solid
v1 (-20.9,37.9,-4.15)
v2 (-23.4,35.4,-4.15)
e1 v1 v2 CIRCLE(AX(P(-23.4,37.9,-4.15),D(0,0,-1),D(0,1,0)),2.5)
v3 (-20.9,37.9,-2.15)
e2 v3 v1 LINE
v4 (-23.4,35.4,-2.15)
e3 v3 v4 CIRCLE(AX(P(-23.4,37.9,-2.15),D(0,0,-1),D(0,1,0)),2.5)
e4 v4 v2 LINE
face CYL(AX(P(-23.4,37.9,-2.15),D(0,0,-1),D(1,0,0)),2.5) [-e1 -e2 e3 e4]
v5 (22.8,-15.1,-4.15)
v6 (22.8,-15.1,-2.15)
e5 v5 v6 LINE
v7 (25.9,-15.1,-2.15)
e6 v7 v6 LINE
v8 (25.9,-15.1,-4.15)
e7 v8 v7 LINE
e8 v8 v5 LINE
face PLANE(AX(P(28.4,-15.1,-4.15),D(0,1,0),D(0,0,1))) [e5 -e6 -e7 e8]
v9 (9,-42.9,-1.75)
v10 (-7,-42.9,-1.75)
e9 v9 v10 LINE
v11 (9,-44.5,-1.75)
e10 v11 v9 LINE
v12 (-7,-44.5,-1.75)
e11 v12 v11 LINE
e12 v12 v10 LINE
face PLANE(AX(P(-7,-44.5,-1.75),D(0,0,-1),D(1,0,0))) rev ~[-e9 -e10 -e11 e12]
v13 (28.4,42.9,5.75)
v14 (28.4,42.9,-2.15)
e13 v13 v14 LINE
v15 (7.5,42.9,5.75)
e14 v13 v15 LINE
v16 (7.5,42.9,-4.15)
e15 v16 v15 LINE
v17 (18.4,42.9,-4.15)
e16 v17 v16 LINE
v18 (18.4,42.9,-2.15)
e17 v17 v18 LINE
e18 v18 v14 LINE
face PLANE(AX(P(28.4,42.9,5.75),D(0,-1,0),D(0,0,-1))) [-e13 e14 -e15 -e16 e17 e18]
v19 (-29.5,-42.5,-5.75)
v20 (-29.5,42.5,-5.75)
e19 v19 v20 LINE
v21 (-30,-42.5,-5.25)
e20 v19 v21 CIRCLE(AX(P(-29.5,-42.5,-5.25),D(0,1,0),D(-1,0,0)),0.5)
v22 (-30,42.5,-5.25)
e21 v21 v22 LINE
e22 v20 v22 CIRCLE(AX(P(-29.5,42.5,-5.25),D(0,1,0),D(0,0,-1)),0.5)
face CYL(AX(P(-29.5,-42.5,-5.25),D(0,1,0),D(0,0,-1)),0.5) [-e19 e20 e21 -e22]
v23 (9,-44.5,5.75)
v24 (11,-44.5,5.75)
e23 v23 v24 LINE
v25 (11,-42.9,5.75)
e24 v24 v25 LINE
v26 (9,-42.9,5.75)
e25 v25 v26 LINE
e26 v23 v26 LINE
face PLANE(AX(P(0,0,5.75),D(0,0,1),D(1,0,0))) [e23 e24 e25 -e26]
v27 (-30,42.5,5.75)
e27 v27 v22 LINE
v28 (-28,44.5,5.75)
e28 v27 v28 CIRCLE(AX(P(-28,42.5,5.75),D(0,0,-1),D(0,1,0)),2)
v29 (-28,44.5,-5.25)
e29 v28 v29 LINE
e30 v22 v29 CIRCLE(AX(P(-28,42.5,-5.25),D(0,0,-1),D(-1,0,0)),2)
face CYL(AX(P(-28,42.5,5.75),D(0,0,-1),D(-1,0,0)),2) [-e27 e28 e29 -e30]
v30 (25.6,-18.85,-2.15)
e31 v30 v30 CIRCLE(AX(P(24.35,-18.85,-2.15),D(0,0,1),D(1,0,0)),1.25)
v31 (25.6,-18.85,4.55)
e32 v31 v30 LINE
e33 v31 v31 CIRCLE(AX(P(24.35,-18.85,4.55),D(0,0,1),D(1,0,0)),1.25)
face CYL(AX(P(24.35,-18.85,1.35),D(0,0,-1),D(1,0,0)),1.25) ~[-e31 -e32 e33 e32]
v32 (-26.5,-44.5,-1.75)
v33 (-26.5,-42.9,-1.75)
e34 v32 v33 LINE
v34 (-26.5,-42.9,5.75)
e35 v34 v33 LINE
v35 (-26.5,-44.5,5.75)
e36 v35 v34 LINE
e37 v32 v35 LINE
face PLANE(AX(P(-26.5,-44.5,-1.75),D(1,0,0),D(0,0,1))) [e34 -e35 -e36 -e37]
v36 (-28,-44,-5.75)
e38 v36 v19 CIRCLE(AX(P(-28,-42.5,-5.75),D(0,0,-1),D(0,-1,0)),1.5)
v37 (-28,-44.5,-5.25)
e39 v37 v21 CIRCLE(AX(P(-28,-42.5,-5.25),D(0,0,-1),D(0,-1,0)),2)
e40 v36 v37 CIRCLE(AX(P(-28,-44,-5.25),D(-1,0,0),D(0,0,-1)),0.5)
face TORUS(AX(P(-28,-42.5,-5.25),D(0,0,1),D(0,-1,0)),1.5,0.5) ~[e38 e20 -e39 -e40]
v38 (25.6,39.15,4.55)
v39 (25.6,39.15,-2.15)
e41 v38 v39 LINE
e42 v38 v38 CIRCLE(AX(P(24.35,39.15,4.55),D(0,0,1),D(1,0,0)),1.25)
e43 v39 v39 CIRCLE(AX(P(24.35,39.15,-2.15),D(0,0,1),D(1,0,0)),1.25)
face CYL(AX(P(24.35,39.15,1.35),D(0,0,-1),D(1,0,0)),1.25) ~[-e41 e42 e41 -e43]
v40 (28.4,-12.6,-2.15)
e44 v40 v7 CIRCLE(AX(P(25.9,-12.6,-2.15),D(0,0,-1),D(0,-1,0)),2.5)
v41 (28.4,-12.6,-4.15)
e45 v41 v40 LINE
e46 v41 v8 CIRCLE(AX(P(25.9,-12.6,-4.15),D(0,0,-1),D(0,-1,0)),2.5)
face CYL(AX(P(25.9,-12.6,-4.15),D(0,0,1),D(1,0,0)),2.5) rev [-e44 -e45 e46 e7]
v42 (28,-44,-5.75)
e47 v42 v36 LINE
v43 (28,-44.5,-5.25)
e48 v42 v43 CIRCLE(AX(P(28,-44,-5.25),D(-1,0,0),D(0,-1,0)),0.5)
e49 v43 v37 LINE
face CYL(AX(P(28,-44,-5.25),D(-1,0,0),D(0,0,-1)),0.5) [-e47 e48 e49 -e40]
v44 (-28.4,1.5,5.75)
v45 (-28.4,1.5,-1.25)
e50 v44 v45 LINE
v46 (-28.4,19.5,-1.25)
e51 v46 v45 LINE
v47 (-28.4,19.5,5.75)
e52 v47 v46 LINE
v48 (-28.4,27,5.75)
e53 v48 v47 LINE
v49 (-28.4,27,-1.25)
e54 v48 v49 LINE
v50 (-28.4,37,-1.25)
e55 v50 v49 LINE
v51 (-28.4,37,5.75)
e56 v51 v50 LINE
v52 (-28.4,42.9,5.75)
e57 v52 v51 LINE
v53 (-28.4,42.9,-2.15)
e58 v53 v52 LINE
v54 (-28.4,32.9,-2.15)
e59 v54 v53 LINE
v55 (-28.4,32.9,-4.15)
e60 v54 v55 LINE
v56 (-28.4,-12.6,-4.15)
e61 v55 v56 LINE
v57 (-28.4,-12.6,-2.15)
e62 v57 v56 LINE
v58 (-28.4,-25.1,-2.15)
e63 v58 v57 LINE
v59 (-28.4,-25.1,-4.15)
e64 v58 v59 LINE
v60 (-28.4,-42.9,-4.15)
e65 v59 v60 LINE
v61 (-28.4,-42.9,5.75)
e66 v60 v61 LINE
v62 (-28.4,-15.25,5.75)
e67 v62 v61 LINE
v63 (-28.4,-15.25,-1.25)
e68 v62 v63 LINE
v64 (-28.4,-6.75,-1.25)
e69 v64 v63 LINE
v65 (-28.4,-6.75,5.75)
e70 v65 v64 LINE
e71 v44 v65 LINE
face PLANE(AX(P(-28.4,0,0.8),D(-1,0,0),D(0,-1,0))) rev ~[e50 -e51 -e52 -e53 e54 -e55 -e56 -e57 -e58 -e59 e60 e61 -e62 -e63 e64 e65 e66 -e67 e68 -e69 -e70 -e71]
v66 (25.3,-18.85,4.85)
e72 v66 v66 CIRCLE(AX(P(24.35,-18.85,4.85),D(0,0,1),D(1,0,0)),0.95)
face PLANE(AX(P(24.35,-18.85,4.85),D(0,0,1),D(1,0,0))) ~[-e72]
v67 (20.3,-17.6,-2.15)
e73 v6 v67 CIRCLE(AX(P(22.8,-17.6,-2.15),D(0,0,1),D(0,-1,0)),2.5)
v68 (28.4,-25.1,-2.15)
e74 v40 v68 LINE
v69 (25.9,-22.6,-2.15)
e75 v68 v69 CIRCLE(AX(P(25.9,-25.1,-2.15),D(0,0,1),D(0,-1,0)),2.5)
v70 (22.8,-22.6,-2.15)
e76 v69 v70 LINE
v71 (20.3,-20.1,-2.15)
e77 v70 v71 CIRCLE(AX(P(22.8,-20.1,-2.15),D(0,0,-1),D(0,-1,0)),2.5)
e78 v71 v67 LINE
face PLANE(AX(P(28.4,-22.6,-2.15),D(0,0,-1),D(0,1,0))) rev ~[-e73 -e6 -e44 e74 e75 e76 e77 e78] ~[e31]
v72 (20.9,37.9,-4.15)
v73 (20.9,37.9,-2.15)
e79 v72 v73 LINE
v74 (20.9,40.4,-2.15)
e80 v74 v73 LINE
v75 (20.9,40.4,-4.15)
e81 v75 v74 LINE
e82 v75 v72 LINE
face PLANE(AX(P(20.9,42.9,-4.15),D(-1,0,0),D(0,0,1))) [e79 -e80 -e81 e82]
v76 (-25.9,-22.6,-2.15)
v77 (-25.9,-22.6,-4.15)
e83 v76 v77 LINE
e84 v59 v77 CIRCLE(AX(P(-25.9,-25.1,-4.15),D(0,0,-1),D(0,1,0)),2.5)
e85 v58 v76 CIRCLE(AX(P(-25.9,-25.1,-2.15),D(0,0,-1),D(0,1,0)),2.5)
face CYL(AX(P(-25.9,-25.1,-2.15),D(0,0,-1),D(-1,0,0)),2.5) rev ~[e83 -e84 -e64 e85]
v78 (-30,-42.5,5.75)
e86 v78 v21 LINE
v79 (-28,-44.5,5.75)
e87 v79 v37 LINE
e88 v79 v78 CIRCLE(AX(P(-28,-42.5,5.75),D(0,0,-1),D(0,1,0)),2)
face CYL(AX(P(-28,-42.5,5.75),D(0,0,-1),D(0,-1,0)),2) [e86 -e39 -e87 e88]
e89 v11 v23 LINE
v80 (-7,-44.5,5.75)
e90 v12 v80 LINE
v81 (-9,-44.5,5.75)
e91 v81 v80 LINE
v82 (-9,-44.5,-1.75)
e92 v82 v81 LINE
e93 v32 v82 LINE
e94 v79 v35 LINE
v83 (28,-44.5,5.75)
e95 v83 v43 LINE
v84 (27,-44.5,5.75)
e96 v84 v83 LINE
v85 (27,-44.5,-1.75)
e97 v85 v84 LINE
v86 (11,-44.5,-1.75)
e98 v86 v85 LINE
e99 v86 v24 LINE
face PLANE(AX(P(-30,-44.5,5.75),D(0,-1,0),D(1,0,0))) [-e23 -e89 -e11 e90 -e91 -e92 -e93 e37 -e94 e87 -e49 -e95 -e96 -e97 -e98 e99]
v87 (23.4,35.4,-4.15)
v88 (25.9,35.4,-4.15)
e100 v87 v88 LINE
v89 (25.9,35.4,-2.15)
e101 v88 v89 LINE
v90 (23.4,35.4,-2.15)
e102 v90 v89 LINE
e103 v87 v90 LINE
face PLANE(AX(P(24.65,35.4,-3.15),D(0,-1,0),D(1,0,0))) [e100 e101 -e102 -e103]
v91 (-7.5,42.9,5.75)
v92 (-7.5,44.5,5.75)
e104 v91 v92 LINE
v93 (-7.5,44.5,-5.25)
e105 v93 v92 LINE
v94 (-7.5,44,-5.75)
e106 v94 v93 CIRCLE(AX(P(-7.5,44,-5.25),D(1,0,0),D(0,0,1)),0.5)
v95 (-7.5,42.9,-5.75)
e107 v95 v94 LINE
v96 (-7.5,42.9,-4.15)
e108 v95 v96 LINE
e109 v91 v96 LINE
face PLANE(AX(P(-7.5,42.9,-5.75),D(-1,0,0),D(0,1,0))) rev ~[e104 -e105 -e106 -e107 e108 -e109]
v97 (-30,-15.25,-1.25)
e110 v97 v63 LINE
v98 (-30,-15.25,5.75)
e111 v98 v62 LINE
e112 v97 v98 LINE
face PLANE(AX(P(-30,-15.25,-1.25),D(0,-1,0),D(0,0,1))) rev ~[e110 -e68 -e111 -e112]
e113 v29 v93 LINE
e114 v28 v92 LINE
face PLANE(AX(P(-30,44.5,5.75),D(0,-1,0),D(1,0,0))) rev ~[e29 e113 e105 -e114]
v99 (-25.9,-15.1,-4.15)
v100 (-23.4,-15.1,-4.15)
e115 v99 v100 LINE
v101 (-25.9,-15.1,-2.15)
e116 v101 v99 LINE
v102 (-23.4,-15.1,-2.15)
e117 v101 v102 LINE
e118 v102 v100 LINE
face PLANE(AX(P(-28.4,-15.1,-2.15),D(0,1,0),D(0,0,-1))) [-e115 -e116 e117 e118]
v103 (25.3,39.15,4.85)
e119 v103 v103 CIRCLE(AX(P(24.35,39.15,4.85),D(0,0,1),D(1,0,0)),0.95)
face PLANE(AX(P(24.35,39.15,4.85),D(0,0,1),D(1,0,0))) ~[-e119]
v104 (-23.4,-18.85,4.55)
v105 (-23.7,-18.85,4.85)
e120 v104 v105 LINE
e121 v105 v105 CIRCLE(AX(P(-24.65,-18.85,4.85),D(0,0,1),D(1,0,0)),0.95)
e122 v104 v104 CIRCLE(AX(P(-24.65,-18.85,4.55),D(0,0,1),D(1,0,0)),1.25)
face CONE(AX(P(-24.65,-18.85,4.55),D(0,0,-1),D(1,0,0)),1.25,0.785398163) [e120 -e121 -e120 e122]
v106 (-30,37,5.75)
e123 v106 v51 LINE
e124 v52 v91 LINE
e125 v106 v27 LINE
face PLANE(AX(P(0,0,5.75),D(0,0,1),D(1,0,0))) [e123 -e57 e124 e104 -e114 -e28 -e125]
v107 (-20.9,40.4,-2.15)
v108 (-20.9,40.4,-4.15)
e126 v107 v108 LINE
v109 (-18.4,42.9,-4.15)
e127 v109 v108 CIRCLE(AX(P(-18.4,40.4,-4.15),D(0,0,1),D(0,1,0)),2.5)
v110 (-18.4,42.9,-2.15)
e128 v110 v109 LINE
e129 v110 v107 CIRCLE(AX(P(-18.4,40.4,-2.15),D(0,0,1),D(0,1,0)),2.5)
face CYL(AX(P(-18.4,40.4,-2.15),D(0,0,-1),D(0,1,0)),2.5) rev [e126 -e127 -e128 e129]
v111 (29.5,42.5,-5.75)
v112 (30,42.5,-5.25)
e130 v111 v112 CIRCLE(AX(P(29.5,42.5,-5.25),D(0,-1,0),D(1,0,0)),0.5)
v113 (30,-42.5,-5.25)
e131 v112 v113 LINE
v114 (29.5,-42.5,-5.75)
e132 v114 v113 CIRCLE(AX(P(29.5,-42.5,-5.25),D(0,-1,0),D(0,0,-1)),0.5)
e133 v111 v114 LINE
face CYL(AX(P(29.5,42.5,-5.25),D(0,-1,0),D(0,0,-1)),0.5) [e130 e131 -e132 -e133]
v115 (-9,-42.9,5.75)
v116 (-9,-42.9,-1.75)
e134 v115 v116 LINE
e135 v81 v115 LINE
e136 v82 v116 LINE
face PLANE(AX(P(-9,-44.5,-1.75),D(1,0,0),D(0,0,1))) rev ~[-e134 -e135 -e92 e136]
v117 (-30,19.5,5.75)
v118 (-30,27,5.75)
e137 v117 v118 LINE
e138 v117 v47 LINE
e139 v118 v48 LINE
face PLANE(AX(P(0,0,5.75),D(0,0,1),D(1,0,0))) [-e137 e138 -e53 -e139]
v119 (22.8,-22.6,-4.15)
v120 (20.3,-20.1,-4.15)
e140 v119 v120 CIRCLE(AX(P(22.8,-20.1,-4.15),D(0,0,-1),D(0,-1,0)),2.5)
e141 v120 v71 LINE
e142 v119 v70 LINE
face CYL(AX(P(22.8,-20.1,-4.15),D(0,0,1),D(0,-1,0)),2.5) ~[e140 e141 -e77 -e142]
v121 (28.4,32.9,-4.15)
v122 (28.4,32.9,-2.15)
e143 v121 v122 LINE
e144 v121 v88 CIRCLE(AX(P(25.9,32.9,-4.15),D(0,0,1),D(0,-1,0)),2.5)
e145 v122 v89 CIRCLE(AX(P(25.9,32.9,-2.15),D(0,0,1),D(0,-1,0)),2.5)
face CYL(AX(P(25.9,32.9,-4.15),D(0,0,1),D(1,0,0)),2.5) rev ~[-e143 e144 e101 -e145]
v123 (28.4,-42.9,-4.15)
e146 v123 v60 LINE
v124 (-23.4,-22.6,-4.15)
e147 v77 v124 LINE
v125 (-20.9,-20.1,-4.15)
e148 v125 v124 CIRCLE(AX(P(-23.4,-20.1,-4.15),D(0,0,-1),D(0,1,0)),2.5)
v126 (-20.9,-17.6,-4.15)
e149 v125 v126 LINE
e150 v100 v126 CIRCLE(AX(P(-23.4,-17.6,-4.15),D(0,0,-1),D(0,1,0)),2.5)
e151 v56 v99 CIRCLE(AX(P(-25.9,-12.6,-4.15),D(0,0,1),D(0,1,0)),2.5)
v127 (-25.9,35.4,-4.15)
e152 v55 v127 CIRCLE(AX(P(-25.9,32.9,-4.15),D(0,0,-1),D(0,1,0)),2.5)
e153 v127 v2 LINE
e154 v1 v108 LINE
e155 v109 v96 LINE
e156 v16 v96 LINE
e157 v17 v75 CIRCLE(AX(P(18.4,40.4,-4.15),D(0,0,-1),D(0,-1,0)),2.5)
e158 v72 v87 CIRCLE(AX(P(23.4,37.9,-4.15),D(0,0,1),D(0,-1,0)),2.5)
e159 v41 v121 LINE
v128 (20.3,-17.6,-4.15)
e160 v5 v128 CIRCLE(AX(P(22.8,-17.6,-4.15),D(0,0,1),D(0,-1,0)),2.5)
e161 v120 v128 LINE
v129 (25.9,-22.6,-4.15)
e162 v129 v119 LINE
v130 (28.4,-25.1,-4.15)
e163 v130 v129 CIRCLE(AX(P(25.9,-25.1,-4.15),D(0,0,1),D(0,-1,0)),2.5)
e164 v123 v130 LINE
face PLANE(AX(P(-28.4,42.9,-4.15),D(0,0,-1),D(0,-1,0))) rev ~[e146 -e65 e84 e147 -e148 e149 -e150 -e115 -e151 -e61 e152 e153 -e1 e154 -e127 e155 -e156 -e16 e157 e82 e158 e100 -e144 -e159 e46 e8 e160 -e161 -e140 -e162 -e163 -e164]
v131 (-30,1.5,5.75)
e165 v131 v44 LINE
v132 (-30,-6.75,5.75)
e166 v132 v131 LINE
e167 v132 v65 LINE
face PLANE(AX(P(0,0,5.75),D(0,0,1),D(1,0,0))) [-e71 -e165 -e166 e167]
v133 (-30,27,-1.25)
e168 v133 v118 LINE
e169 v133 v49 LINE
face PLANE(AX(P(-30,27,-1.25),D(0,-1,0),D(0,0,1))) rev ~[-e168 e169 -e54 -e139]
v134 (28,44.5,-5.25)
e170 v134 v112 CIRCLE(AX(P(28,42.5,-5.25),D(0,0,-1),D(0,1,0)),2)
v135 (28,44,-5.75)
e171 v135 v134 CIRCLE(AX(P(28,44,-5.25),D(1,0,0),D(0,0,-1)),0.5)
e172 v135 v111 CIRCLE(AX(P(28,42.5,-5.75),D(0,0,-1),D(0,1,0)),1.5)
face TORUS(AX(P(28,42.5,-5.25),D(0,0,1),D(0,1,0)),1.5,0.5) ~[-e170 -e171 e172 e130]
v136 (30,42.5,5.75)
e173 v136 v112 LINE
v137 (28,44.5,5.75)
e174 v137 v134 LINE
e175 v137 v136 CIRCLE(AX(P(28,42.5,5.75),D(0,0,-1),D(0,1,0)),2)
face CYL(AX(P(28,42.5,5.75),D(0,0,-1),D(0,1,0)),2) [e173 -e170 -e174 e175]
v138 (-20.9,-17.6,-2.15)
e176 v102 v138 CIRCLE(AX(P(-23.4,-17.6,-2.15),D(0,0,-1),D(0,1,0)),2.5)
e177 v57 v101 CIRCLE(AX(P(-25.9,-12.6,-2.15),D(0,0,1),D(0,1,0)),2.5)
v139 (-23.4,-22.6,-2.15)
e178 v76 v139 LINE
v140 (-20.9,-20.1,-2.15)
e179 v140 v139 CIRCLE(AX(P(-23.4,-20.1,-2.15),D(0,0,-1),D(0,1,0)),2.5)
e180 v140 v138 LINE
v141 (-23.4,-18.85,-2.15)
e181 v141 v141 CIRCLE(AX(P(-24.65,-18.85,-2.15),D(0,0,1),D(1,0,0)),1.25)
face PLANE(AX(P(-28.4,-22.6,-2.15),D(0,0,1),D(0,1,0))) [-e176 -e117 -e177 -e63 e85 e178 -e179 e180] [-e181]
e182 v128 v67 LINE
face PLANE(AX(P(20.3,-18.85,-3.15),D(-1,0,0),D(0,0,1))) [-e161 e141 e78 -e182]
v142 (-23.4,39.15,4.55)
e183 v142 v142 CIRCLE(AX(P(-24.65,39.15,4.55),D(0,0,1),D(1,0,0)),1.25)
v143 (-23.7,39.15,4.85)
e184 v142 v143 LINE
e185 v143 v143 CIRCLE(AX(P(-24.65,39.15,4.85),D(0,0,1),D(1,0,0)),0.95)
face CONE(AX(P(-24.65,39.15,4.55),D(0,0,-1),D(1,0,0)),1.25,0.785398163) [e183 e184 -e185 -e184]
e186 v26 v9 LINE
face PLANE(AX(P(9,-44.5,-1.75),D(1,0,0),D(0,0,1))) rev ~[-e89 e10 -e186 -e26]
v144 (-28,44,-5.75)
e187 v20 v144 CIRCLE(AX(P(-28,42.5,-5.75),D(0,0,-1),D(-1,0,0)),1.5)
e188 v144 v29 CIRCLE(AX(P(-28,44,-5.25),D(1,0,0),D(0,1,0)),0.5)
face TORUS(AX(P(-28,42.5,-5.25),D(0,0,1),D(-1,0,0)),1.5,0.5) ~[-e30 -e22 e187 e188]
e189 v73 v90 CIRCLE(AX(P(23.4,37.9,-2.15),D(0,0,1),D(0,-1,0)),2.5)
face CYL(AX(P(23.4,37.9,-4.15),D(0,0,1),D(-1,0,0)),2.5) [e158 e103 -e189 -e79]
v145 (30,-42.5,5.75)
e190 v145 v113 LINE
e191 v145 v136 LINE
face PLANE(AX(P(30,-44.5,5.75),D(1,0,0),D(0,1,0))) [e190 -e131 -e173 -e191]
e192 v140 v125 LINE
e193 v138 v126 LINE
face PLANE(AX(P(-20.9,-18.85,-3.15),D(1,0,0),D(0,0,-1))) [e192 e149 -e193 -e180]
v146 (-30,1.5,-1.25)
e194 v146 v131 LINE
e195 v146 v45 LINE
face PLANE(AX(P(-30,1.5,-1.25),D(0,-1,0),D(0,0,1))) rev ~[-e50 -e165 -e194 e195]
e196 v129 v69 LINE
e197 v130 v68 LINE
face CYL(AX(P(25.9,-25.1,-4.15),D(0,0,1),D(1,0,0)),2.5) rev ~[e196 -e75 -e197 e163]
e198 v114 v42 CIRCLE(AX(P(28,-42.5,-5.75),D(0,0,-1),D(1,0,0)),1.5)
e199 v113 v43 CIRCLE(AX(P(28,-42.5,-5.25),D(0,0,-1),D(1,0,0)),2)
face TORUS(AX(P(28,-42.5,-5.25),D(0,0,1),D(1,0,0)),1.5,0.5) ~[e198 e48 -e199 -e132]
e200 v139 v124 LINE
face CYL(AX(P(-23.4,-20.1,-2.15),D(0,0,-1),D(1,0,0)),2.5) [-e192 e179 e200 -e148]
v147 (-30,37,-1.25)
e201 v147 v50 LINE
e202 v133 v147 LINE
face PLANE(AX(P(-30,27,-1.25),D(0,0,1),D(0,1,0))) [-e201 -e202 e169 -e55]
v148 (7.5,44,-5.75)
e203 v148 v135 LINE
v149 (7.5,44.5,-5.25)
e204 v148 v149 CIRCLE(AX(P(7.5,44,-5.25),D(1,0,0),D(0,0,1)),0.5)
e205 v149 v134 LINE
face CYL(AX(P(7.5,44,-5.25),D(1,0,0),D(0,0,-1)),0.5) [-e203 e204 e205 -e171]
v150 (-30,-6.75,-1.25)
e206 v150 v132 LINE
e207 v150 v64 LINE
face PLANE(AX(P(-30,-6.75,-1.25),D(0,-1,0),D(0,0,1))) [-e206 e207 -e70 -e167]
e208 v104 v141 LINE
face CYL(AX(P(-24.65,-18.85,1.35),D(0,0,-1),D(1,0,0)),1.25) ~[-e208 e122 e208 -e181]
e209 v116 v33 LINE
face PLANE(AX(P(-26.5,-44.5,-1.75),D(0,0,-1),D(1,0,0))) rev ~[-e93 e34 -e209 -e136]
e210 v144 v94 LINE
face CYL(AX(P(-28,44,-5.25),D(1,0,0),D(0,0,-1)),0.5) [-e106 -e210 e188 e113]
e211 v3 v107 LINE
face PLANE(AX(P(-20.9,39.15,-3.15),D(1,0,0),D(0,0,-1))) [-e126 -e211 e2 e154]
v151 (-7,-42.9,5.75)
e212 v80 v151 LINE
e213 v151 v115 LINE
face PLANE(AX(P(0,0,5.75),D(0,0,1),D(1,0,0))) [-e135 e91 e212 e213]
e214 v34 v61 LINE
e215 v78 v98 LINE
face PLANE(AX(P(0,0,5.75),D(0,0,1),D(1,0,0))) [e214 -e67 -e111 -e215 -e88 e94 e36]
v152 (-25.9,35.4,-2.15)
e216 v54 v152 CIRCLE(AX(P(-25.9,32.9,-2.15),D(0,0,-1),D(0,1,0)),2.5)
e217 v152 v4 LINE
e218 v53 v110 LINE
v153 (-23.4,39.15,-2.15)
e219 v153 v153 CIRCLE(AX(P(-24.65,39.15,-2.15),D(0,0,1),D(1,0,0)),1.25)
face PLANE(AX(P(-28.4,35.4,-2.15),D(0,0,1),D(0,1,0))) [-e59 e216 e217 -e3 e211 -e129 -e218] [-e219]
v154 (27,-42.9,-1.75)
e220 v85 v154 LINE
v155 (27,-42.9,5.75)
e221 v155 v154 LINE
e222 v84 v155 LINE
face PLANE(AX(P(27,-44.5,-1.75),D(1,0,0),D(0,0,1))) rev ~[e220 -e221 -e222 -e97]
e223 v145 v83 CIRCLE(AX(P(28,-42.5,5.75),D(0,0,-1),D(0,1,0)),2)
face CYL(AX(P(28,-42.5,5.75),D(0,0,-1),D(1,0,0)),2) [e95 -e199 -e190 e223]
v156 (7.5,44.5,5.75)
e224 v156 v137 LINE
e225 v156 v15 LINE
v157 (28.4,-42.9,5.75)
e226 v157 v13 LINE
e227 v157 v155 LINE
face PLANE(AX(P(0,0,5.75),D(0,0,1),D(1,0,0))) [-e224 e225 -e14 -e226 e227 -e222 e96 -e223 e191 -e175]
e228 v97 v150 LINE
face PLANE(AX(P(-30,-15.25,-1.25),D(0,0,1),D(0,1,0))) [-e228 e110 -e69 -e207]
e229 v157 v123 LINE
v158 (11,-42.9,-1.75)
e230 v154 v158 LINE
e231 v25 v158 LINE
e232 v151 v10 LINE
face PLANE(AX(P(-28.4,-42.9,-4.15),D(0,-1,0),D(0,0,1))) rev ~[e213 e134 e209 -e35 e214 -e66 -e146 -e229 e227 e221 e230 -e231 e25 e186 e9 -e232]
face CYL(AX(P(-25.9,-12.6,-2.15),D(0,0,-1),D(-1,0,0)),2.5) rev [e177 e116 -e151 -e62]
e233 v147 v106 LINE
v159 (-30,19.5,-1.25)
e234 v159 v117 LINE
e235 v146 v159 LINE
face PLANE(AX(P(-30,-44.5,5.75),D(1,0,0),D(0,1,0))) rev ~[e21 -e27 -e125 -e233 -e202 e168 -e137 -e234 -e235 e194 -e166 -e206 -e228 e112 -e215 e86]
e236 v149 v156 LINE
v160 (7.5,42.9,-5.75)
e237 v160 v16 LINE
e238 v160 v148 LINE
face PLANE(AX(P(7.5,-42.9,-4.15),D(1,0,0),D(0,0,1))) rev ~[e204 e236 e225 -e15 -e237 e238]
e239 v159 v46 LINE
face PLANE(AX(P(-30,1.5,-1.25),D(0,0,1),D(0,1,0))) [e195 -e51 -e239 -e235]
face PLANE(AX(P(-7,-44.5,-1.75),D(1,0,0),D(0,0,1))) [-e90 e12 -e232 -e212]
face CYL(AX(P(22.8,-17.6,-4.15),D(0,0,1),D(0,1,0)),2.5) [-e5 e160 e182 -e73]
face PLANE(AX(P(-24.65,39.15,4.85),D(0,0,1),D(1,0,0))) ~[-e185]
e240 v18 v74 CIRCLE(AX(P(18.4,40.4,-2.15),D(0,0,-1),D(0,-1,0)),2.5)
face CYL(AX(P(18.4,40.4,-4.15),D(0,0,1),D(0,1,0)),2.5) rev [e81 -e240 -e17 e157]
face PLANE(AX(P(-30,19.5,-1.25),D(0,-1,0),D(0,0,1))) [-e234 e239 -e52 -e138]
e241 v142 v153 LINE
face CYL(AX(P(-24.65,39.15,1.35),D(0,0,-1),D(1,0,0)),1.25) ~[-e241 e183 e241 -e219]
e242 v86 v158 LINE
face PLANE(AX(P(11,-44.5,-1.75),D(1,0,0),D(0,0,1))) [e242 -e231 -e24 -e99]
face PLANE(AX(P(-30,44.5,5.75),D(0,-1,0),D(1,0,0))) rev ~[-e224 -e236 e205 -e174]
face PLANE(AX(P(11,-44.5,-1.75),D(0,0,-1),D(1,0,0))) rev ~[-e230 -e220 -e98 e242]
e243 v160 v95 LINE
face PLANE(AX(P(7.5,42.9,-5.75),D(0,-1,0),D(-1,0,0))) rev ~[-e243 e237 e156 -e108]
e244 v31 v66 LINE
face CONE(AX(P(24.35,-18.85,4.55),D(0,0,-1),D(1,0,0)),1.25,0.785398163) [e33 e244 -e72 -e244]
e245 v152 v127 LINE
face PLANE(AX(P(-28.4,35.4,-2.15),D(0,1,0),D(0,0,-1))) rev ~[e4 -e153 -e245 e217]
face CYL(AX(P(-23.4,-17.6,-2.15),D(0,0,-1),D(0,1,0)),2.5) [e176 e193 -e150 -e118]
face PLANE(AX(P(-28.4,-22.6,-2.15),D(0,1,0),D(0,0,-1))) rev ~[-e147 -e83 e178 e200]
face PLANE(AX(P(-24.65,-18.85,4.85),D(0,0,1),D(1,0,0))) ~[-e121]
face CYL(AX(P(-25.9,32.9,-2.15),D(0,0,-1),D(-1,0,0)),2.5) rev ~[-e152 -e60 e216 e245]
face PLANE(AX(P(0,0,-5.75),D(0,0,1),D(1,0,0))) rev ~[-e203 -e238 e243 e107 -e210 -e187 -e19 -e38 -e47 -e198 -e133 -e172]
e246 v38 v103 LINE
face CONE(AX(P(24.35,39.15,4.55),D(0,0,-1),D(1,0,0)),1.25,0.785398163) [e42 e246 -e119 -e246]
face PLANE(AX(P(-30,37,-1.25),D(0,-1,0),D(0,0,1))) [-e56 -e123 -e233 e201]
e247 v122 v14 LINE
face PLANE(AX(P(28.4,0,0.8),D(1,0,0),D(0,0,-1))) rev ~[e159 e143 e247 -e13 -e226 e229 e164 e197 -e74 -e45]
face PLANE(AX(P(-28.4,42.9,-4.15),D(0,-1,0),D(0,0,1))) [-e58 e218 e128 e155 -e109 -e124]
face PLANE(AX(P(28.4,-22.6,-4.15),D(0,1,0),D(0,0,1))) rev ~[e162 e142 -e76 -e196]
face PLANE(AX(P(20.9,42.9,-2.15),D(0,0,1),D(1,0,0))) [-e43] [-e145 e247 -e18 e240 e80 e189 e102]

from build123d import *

# Parameters (mm, degrees)
ESQUISSE1_W              = 60
ESQUISSE1_H              = 89
BOSS_EXTRU_1_DEPTH       = 11.5
ESQUISSE2_W              = 15
ESQUISSE2_H              = 1.6
ENL_V_MAT_EXTRU_1_DEPTH  = 55.886246
ENL_V_MAT_EXTRU_2_REACH  = 94.584
ESQUISSE4_W              = 15
ESQUISSE4_H              = 9.9
ENL_V_MAT_EXTRU_3_REACH  = 75.647
ESQUISSE5_W              = 85.8
ESQUISSE5_H              = 9.9
ENL_V_MAT_EXTRU_4_REACH  = 75.647
ESQUISSE6_W              = 9.9
ESQUISSE6_H              = 85.8
ENL_V_MAT_EXTRU_5_REACH  = 76.922
ESQUISSE7_W              = 7
ESQUISSE7_H              = 10
ENL_V_MAT_EXTRU_6_REACH  = 76.922
ESQUISSE8_W              = 7
ESQUISSE8_H              = 18
ENL_V_MAT_EXTRU_7_REACH  = 96.096
ESQUISSE9_W              = 17.5
ESQUISSE9_H              = 7.5
ENL_V_MAT_EXTRU_8_REACH  = 96.096
ESQUISSE10_W             = 16
ESQUISSE10_H             = 7.5
ENL_V_MAT_EXTRU_9_REACH  = 96.096
ESQUISSE11_W             = 16
ESQUISSE11_H             = 7.5
ENL_V_MAT_EXTRU_10_REACH = 76.922
ESQUISSE12_W             = 7
ESQUISSE12_H             = 8.5
ESQUISSE23_W             = 2
ESQUISSE23_H             = 7.5
BOSS_EXTRU_5_DEPTH       = 7.5
ESQUISSE24_W             = 7.5
ESQUISSE24_H             = 2
BOSS_EXTRU_6_DEPTH       = 7.5
ESQUISSE25_W             = 2
ESQUISSE25_H             = 7.5
BOSS_EXTRU_7_DEPTH       = 8.1
ESQUISSE26_W             = 2
ESQUISSE26_H             = 7.5
BOSS_EXTRU_8_DEPTH       = 7.5
ESQUISSE28_W             = 1.25
ESQUISSE28_H             = 7
ESQUISSE29_W             = 1.25
ESQUISSE29_H             = 7
ESQUISSE30_W             = 1.25
ESQUISSE30_H             = 7
ESQUISSE31_W             = 1.25
ESQUISSE31_H             = 7
CONG_1_R                 = 2
CHANFREIN1_SIZE          = 0.3
CONG_2_R                 = 0.5
CONG_9_R                 = 2.5


with BuildPart() as part:
    # Esquisse1 → Boss.-Extru.1 (new body)
    with BuildSketch(Plane.XY.offset(5.75)):
        Rectangle(ESQUISSE1_W, ESQUISSE1_H)
    extrude(amount=-BOSS_EXTRU_1_DEPTH)

    # Esquisse2 → Enlèv. mat.-Extru.1 (cut, through all)
    with BuildSketch(Plane(origin=(0, 0, -5.75), x_dir=(-1, 0, 0), z_dir=(0, 0, -1))):
        with Locations((0, 43.7)):
            Rectangle(ESQUISSE2_W, ESQUISSE2_H)
    extrude(amount=-ENL_V_MAT_EXTRU_1_DEPTH, mode=Mode.SUBTRACT)

    # Esquisse4 → Enlèv. mat.-Extru.2 (cut, up to next)
    with BuildSketch(Plane.XZ.offset(42.9), mode=Mode.PRIVATE) as enl_v_mat_extru_2_sk1:
        with Locations((0, 0.8)):
            Rectangle(ESQUISSE4_W, ESQUISSE4_H)
    enl_v_mat_extru_2_tool1 = extrude(enl_v_mat_extru_2_sk1.sketch, amount=-ENL_V_MAT_EXTRU_2_REACH, mode=Mode.PRIVATE) & part.part
    add(enl_v_mat_extru_2_tool1.solids().sort_by_distance((0, -42.9, 0.8))[0], mode=Mode.SUBTRACT)

    # Esquisse5 → Enlèv. mat.-Extru.3 (cut, up to next)
    with BuildSketch(Plane(origin=(-28.4, 0, 0), x_dir=(0, -1, 0), z_dir=(-1, 0, 0)), mode=Mode.PRIVATE) as enl_v_mat_extru_3_sk1:
        with Locations((0, 0.8)):
            Rectangle(ESQUISSE5_W, ESQUISSE5_H)
    enl_v_mat_extru_3_tool1 = extrude(enl_v_mat_extru_3_sk1.sketch, amount=-ENL_V_MAT_EXTRU_3_REACH, mode=Mode.PRIVATE) & part.part
    add(enl_v_mat_extru_3_tool1.solids().sort_by_distance((-28.4, 0, 0.8))[0], mode=Mode.SUBTRACT)

    # Esquisse6 → Enlèv. mat.-Extru.4 (cut, up to next)
    with BuildSketch(Plane(origin=(28.4, 0, 0), x_dir=(0, 0, -1), z_dir=(1, 0, 0)), mode=Mode.PRIVATE) as enl_v_mat_extru_4_sk1:
        with Locations((-0.8, 0)):
            Rectangle(ESQUISSE6_W, ESQUISSE6_H)
    enl_v_mat_extru_4_tool1 = extrude(enl_v_mat_extru_4_sk1.sketch, amount=-ENL_V_MAT_EXTRU_4_REACH, mode=Mode.PRIVATE) & part.part
    add(enl_v_mat_extru_4_tool1.solids().sort_by_distance((28.4, 0, 0.8))[0], mode=Mode.SUBTRACT)

    # Esquisse7 → Enlèv. mat.-Extru.5 (cut, up to next)
    with BuildSketch(Plane.ZY.offset(30), mode=Mode.PRIVATE) as enl_v_mat_extru_5_sk1:
        with Locations((2.25, 32)):
            Rectangle(ESQUISSE7_W, ESQUISSE7_H)
    enl_v_mat_extru_5_tool1 = extrude(enl_v_mat_extru_5_sk1.sketch, amount=-ENL_V_MAT_EXTRU_5_REACH, mode=Mode.PRIVATE) & part.part
    add(enl_v_mat_extru_5_tool1.solids().sort_by_distance((-30, 32, 2.25))[0], mode=Mode.SUBTRACT)

    # Esquisse8 → Enlèv. mat.-Extru.6 (cut, up to next)
    with BuildSketch(Plane.ZY.offset(30), mode=Mode.PRIVATE) as enl_v_mat_extru_6_sk1:
        with Locations((2.25, 10.5)):
            Rectangle(ESQUISSE8_W, ESQUISSE8_H)
    enl_v_mat_extru_6_tool1 = extrude(enl_v_mat_extru_6_sk1.sketch, amount=-ENL_V_MAT_EXTRU_6_REACH, mode=Mode.PRIVATE) & part.part
    add(enl_v_mat_extru_6_tool1.solids().sort_by_distance((-30, 10.5, 2.25))[0], mode=Mode.SUBTRACT)

    # Esquisse9 → Enlèv. mat.-Extru.7 (cut, up to next)
    with BuildSketch(Plane.XZ.offset(44.5), mode=Mode.PRIVATE) as enl_v_mat_extru_7_sk1:
        with Locations((-17.75, 2)):
            Rectangle(ESQUISSE9_W, ESQUISSE9_H)
    enl_v_mat_extru_7_tool1 = extrude(enl_v_mat_extru_7_sk1.sketch, amount=-ENL_V_MAT_EXTRU_7_REACH, mode=Mode.PRIVATE) & part.part
    add(enl_v_mat_extru_7_tool1.solids().sort_by_distance((-17.75, -44.5, 2))[0], mode=Mode.SUBTRACT)

    # Esquisse10 → Enlèv. mat.-Extru.8 (cut, up to next)
    with BuildSketch(Plane.XZ.offset(44.5), mode=Mode.PRIVATE) as enl_v_mat_extru_8_sk1:
        with Locations((1, 2)):
            Rectangle(ESQUISSE10_W, ESQUISSE10_H)
    enl_v_mat_extru_8_tool1 = extrude(enl_v_mat_extru_8_sk1.sketch, amount=-ENL_V_MAT_EXTRU_8_REACH, mode=Mode.PRIVATE) & part.part
    add(enl_v_mat_extru_8_tool1.solids().sort_by_distance((1, -44.5, 2))[0], mode=Mode.SUBTRACT)

    # Esquisse11 → Enlèv. mat.-Extru.9 (cut, up to next)
    with BuildSketch(Plane.XZ.offset(44.5), mode=Mode.PRIVATE) as enl_v_mat_extru_9_sk1:
        with Locations((19, 2)):
            Rectangle(ESQUISSE11_W, ESQUISSE11_H)
    enl_v_mat_extru_9_tool1 = extrude(enl_v_mat_extru_9_sk1.sketch, amount=-ENL_V_MAT_EXTRU_9_REACH, mode=Mode.PRIVATE) & part.part
    add(enl_v_mat_extru_9_tool1.solids().sort_by_distance((19, -44.5, 2))[0], mode=Mode.SUBTRACT)

    # Esquisse12 → Enlèv. mat.-Extru.10 (cut, up to next)
    with BuildSketch(Plane.ZY.offset(30), mode=Mode.PRIVATE) as enl_v_mat_extru_10_sk1:
        with Locations((2.25, -11)):
            Rectangle(ESQUISSE12_W, ESQUISSE12_H)
    enl_v_mat_extru_10_tool1 = extrude(enl_v_mat_extru_10_sk1.sketch, amount=-ENL_V_MAT_EXTRU_10_REACH, mode=Mode.PRIVATE) & part.part
    add(enl_v_mat_extru_10_tool1.solids().sort_by_distance((-30, -11, 2.25))[0], mode=Mode.SUBTRACT)

    # Esquisse23 → Boss.-Extru.5 (add)
    with BuildSketch(Plane(origin=(-28.4, 0, 0), x_dir=(0, 0, -1), z_dir=(1, 0, 0))):
        with Locations((3.15, 39.15)):
            Rectangle(ESQUISSE23_W, ESQUISSE23_H)
    extrude(amount=BOSS_EXTRU_5_DEPTH)

    # Esquisse24 → Boss.-Extru.6 (add)
    with BuildSketch(Plane.XZ.offset(-42.9)):
        with Locations((24.65, -3.15)):
            Rectangle(ESQUISSE24_W, ESQUISSE24_H)
    extrude(amount=BOSS_EXTRU_6_DEPTH)

    # Esquisse25 → Boss.-Extru.7 (add)
    with BuildSketch(Plane.ZY.offset(-28.4)):
        with Locations((-3.15, -18.85)):
            Rectangle(ESQUISSE25_W, ESQUISSE25_H)
    extrude(amount=BOSS_EXTRU_7_DEPTH)

    # Esquisse26 → Boss.-Extru.8 (add)
    with BuildSketch(Plane(origin=(-28.4, 0, 0), x_dir=(0, 0, -1), z_dir=(1, 0, 0))):
        with Locations((3.15, -18.85)):
            Rectangle(ESQUISSE26_W, ESQUISSE26_H)
    extrude(amount=BOSS_EXTRU_8_DEPTH)

    # Esquisse28 → Révolution1 (revolve)
    with BuildSketch(Plane(origin=(0, -18.85, 0), x_dir=(1, 0, 0), z_dir=(0, 1, 0))):
        with Locations((24.975, -1.35)):
            Rectangle(ESQUISSE28_W, ESQUISSE28_H)
    revolve(axis=Axis((24.35, -18.85, -2.15), (0, 0, 1)))

    # Esquisse29 → Révolution2 (revolve)
    with BuildSketch(Plane(origin=(0, 39.15, 0), x_dir=(1, 0, 0), z_dir=(0, 1, 0))):
        with Locations((24.975, -1.35)):
            Rectangle(ESQUISSE29_W, ESQUISSE29_H)
    revolve(axis=Axis((24.35, 39.15, -2.15), (0, 0, 1)))

    # Esquisse30 → Révolution3 (revolve)
    with BuildSketch(Plane(origin=(0, 39.15, 0), x_dir=(1, 0, 0), z_dir=(0, 1, 0))):
        with Locations((-24.025, -1.35)):
            Rectangle(ESQUISSE30_W, ESQUISSE30_H)
    revolve(axis=Axis((-24.65, 39.15, -2.15), (0, 0, 1)))

    # Esquisse31 → Révolution4 (revolve)
    with BuildSketch(Plane(origin=(0, -18.85, 0), x_dir=(1, 0, 0), z_dir=(0, 1, 0))):
        with Locations((-24.025, -1.35)):
            Rectangle(ESQUISSE31_W, ESQUISSE31_H)
    revolve(axis=Axis((-24.65, -18.85, -2.15), (0, 0, 1)))

    # Congé1
    cong_1_edges = [part.edges().sort_by_distance(p)[0] for p in [
        (30, -44.5, 0),
        (-30, -44.5, 0),
        (-30, 44.5, 0),
        (30, 44.5, 0),
    ]]
    fillet(cong_1_edges, radius=CONG_1_R)

    # Chanfrein1
    chanfrein1_edges = [part.edges().sort_by_distance(p)[0] for p in [
        (23.1, -18.85, 4.85),
        (23.1, 39.15, 4.85),
        (-25.9, 39.15, 4.85),
        (-25.9, -18.85, 4.85),
    ]]
    chamfer(chanfrein1_edges, length=CHANFREIN1_SIZE)

    # Congé2
    cong_2_edges = [part.edges().sort_by_distance(p)[0] for p in [
        (-17.75, 44.5, -5.75),
        (30, 0, -5.75),
        (17.75, 44.5, -5.75),
        (0, -44.5, -5.75),
        (-30, 0, -5.75),
        (-29.414213562, -43.914213562, -5.75),
        (29.414213562, -43.914213562, -5.75),
        (-29.414213562, 43.914213562, -5.75),
        (29.414213562, 43.914213562, -5.75),
    ]]
    fillet(cong_2_edges, radius=CONG_2_R)

    # Congé9
    cong_9_edges = [part.edges().sort_by_distance(p)[0] for p in [
        (-28.4, 35.4, -3.15),
        (-20.9, 35.4, -3.15),
        (-20.9, 42.9, -3.15),
        (20.9, 42.9, -3.15),
        (20.9, 35.4, -3.15),
        (28.4, 35.4, -3.15),
        (28.4, -22.6, -3.15),
        (28.4, -15.1, -3.15),
        (20.3, -22.6, -3.15),
        (20.3, -15.1, -3.15),
        (-28.4, -22.6, -3.15),
        (-28.4, -15.1, -3.15),
        (-20.9, -22.6, -3.15),
        (-20.9, -15.1, -3.15),
    ]]
    fillet(cong_9_edges, radius=CONG_9_R)


solid = part.part
